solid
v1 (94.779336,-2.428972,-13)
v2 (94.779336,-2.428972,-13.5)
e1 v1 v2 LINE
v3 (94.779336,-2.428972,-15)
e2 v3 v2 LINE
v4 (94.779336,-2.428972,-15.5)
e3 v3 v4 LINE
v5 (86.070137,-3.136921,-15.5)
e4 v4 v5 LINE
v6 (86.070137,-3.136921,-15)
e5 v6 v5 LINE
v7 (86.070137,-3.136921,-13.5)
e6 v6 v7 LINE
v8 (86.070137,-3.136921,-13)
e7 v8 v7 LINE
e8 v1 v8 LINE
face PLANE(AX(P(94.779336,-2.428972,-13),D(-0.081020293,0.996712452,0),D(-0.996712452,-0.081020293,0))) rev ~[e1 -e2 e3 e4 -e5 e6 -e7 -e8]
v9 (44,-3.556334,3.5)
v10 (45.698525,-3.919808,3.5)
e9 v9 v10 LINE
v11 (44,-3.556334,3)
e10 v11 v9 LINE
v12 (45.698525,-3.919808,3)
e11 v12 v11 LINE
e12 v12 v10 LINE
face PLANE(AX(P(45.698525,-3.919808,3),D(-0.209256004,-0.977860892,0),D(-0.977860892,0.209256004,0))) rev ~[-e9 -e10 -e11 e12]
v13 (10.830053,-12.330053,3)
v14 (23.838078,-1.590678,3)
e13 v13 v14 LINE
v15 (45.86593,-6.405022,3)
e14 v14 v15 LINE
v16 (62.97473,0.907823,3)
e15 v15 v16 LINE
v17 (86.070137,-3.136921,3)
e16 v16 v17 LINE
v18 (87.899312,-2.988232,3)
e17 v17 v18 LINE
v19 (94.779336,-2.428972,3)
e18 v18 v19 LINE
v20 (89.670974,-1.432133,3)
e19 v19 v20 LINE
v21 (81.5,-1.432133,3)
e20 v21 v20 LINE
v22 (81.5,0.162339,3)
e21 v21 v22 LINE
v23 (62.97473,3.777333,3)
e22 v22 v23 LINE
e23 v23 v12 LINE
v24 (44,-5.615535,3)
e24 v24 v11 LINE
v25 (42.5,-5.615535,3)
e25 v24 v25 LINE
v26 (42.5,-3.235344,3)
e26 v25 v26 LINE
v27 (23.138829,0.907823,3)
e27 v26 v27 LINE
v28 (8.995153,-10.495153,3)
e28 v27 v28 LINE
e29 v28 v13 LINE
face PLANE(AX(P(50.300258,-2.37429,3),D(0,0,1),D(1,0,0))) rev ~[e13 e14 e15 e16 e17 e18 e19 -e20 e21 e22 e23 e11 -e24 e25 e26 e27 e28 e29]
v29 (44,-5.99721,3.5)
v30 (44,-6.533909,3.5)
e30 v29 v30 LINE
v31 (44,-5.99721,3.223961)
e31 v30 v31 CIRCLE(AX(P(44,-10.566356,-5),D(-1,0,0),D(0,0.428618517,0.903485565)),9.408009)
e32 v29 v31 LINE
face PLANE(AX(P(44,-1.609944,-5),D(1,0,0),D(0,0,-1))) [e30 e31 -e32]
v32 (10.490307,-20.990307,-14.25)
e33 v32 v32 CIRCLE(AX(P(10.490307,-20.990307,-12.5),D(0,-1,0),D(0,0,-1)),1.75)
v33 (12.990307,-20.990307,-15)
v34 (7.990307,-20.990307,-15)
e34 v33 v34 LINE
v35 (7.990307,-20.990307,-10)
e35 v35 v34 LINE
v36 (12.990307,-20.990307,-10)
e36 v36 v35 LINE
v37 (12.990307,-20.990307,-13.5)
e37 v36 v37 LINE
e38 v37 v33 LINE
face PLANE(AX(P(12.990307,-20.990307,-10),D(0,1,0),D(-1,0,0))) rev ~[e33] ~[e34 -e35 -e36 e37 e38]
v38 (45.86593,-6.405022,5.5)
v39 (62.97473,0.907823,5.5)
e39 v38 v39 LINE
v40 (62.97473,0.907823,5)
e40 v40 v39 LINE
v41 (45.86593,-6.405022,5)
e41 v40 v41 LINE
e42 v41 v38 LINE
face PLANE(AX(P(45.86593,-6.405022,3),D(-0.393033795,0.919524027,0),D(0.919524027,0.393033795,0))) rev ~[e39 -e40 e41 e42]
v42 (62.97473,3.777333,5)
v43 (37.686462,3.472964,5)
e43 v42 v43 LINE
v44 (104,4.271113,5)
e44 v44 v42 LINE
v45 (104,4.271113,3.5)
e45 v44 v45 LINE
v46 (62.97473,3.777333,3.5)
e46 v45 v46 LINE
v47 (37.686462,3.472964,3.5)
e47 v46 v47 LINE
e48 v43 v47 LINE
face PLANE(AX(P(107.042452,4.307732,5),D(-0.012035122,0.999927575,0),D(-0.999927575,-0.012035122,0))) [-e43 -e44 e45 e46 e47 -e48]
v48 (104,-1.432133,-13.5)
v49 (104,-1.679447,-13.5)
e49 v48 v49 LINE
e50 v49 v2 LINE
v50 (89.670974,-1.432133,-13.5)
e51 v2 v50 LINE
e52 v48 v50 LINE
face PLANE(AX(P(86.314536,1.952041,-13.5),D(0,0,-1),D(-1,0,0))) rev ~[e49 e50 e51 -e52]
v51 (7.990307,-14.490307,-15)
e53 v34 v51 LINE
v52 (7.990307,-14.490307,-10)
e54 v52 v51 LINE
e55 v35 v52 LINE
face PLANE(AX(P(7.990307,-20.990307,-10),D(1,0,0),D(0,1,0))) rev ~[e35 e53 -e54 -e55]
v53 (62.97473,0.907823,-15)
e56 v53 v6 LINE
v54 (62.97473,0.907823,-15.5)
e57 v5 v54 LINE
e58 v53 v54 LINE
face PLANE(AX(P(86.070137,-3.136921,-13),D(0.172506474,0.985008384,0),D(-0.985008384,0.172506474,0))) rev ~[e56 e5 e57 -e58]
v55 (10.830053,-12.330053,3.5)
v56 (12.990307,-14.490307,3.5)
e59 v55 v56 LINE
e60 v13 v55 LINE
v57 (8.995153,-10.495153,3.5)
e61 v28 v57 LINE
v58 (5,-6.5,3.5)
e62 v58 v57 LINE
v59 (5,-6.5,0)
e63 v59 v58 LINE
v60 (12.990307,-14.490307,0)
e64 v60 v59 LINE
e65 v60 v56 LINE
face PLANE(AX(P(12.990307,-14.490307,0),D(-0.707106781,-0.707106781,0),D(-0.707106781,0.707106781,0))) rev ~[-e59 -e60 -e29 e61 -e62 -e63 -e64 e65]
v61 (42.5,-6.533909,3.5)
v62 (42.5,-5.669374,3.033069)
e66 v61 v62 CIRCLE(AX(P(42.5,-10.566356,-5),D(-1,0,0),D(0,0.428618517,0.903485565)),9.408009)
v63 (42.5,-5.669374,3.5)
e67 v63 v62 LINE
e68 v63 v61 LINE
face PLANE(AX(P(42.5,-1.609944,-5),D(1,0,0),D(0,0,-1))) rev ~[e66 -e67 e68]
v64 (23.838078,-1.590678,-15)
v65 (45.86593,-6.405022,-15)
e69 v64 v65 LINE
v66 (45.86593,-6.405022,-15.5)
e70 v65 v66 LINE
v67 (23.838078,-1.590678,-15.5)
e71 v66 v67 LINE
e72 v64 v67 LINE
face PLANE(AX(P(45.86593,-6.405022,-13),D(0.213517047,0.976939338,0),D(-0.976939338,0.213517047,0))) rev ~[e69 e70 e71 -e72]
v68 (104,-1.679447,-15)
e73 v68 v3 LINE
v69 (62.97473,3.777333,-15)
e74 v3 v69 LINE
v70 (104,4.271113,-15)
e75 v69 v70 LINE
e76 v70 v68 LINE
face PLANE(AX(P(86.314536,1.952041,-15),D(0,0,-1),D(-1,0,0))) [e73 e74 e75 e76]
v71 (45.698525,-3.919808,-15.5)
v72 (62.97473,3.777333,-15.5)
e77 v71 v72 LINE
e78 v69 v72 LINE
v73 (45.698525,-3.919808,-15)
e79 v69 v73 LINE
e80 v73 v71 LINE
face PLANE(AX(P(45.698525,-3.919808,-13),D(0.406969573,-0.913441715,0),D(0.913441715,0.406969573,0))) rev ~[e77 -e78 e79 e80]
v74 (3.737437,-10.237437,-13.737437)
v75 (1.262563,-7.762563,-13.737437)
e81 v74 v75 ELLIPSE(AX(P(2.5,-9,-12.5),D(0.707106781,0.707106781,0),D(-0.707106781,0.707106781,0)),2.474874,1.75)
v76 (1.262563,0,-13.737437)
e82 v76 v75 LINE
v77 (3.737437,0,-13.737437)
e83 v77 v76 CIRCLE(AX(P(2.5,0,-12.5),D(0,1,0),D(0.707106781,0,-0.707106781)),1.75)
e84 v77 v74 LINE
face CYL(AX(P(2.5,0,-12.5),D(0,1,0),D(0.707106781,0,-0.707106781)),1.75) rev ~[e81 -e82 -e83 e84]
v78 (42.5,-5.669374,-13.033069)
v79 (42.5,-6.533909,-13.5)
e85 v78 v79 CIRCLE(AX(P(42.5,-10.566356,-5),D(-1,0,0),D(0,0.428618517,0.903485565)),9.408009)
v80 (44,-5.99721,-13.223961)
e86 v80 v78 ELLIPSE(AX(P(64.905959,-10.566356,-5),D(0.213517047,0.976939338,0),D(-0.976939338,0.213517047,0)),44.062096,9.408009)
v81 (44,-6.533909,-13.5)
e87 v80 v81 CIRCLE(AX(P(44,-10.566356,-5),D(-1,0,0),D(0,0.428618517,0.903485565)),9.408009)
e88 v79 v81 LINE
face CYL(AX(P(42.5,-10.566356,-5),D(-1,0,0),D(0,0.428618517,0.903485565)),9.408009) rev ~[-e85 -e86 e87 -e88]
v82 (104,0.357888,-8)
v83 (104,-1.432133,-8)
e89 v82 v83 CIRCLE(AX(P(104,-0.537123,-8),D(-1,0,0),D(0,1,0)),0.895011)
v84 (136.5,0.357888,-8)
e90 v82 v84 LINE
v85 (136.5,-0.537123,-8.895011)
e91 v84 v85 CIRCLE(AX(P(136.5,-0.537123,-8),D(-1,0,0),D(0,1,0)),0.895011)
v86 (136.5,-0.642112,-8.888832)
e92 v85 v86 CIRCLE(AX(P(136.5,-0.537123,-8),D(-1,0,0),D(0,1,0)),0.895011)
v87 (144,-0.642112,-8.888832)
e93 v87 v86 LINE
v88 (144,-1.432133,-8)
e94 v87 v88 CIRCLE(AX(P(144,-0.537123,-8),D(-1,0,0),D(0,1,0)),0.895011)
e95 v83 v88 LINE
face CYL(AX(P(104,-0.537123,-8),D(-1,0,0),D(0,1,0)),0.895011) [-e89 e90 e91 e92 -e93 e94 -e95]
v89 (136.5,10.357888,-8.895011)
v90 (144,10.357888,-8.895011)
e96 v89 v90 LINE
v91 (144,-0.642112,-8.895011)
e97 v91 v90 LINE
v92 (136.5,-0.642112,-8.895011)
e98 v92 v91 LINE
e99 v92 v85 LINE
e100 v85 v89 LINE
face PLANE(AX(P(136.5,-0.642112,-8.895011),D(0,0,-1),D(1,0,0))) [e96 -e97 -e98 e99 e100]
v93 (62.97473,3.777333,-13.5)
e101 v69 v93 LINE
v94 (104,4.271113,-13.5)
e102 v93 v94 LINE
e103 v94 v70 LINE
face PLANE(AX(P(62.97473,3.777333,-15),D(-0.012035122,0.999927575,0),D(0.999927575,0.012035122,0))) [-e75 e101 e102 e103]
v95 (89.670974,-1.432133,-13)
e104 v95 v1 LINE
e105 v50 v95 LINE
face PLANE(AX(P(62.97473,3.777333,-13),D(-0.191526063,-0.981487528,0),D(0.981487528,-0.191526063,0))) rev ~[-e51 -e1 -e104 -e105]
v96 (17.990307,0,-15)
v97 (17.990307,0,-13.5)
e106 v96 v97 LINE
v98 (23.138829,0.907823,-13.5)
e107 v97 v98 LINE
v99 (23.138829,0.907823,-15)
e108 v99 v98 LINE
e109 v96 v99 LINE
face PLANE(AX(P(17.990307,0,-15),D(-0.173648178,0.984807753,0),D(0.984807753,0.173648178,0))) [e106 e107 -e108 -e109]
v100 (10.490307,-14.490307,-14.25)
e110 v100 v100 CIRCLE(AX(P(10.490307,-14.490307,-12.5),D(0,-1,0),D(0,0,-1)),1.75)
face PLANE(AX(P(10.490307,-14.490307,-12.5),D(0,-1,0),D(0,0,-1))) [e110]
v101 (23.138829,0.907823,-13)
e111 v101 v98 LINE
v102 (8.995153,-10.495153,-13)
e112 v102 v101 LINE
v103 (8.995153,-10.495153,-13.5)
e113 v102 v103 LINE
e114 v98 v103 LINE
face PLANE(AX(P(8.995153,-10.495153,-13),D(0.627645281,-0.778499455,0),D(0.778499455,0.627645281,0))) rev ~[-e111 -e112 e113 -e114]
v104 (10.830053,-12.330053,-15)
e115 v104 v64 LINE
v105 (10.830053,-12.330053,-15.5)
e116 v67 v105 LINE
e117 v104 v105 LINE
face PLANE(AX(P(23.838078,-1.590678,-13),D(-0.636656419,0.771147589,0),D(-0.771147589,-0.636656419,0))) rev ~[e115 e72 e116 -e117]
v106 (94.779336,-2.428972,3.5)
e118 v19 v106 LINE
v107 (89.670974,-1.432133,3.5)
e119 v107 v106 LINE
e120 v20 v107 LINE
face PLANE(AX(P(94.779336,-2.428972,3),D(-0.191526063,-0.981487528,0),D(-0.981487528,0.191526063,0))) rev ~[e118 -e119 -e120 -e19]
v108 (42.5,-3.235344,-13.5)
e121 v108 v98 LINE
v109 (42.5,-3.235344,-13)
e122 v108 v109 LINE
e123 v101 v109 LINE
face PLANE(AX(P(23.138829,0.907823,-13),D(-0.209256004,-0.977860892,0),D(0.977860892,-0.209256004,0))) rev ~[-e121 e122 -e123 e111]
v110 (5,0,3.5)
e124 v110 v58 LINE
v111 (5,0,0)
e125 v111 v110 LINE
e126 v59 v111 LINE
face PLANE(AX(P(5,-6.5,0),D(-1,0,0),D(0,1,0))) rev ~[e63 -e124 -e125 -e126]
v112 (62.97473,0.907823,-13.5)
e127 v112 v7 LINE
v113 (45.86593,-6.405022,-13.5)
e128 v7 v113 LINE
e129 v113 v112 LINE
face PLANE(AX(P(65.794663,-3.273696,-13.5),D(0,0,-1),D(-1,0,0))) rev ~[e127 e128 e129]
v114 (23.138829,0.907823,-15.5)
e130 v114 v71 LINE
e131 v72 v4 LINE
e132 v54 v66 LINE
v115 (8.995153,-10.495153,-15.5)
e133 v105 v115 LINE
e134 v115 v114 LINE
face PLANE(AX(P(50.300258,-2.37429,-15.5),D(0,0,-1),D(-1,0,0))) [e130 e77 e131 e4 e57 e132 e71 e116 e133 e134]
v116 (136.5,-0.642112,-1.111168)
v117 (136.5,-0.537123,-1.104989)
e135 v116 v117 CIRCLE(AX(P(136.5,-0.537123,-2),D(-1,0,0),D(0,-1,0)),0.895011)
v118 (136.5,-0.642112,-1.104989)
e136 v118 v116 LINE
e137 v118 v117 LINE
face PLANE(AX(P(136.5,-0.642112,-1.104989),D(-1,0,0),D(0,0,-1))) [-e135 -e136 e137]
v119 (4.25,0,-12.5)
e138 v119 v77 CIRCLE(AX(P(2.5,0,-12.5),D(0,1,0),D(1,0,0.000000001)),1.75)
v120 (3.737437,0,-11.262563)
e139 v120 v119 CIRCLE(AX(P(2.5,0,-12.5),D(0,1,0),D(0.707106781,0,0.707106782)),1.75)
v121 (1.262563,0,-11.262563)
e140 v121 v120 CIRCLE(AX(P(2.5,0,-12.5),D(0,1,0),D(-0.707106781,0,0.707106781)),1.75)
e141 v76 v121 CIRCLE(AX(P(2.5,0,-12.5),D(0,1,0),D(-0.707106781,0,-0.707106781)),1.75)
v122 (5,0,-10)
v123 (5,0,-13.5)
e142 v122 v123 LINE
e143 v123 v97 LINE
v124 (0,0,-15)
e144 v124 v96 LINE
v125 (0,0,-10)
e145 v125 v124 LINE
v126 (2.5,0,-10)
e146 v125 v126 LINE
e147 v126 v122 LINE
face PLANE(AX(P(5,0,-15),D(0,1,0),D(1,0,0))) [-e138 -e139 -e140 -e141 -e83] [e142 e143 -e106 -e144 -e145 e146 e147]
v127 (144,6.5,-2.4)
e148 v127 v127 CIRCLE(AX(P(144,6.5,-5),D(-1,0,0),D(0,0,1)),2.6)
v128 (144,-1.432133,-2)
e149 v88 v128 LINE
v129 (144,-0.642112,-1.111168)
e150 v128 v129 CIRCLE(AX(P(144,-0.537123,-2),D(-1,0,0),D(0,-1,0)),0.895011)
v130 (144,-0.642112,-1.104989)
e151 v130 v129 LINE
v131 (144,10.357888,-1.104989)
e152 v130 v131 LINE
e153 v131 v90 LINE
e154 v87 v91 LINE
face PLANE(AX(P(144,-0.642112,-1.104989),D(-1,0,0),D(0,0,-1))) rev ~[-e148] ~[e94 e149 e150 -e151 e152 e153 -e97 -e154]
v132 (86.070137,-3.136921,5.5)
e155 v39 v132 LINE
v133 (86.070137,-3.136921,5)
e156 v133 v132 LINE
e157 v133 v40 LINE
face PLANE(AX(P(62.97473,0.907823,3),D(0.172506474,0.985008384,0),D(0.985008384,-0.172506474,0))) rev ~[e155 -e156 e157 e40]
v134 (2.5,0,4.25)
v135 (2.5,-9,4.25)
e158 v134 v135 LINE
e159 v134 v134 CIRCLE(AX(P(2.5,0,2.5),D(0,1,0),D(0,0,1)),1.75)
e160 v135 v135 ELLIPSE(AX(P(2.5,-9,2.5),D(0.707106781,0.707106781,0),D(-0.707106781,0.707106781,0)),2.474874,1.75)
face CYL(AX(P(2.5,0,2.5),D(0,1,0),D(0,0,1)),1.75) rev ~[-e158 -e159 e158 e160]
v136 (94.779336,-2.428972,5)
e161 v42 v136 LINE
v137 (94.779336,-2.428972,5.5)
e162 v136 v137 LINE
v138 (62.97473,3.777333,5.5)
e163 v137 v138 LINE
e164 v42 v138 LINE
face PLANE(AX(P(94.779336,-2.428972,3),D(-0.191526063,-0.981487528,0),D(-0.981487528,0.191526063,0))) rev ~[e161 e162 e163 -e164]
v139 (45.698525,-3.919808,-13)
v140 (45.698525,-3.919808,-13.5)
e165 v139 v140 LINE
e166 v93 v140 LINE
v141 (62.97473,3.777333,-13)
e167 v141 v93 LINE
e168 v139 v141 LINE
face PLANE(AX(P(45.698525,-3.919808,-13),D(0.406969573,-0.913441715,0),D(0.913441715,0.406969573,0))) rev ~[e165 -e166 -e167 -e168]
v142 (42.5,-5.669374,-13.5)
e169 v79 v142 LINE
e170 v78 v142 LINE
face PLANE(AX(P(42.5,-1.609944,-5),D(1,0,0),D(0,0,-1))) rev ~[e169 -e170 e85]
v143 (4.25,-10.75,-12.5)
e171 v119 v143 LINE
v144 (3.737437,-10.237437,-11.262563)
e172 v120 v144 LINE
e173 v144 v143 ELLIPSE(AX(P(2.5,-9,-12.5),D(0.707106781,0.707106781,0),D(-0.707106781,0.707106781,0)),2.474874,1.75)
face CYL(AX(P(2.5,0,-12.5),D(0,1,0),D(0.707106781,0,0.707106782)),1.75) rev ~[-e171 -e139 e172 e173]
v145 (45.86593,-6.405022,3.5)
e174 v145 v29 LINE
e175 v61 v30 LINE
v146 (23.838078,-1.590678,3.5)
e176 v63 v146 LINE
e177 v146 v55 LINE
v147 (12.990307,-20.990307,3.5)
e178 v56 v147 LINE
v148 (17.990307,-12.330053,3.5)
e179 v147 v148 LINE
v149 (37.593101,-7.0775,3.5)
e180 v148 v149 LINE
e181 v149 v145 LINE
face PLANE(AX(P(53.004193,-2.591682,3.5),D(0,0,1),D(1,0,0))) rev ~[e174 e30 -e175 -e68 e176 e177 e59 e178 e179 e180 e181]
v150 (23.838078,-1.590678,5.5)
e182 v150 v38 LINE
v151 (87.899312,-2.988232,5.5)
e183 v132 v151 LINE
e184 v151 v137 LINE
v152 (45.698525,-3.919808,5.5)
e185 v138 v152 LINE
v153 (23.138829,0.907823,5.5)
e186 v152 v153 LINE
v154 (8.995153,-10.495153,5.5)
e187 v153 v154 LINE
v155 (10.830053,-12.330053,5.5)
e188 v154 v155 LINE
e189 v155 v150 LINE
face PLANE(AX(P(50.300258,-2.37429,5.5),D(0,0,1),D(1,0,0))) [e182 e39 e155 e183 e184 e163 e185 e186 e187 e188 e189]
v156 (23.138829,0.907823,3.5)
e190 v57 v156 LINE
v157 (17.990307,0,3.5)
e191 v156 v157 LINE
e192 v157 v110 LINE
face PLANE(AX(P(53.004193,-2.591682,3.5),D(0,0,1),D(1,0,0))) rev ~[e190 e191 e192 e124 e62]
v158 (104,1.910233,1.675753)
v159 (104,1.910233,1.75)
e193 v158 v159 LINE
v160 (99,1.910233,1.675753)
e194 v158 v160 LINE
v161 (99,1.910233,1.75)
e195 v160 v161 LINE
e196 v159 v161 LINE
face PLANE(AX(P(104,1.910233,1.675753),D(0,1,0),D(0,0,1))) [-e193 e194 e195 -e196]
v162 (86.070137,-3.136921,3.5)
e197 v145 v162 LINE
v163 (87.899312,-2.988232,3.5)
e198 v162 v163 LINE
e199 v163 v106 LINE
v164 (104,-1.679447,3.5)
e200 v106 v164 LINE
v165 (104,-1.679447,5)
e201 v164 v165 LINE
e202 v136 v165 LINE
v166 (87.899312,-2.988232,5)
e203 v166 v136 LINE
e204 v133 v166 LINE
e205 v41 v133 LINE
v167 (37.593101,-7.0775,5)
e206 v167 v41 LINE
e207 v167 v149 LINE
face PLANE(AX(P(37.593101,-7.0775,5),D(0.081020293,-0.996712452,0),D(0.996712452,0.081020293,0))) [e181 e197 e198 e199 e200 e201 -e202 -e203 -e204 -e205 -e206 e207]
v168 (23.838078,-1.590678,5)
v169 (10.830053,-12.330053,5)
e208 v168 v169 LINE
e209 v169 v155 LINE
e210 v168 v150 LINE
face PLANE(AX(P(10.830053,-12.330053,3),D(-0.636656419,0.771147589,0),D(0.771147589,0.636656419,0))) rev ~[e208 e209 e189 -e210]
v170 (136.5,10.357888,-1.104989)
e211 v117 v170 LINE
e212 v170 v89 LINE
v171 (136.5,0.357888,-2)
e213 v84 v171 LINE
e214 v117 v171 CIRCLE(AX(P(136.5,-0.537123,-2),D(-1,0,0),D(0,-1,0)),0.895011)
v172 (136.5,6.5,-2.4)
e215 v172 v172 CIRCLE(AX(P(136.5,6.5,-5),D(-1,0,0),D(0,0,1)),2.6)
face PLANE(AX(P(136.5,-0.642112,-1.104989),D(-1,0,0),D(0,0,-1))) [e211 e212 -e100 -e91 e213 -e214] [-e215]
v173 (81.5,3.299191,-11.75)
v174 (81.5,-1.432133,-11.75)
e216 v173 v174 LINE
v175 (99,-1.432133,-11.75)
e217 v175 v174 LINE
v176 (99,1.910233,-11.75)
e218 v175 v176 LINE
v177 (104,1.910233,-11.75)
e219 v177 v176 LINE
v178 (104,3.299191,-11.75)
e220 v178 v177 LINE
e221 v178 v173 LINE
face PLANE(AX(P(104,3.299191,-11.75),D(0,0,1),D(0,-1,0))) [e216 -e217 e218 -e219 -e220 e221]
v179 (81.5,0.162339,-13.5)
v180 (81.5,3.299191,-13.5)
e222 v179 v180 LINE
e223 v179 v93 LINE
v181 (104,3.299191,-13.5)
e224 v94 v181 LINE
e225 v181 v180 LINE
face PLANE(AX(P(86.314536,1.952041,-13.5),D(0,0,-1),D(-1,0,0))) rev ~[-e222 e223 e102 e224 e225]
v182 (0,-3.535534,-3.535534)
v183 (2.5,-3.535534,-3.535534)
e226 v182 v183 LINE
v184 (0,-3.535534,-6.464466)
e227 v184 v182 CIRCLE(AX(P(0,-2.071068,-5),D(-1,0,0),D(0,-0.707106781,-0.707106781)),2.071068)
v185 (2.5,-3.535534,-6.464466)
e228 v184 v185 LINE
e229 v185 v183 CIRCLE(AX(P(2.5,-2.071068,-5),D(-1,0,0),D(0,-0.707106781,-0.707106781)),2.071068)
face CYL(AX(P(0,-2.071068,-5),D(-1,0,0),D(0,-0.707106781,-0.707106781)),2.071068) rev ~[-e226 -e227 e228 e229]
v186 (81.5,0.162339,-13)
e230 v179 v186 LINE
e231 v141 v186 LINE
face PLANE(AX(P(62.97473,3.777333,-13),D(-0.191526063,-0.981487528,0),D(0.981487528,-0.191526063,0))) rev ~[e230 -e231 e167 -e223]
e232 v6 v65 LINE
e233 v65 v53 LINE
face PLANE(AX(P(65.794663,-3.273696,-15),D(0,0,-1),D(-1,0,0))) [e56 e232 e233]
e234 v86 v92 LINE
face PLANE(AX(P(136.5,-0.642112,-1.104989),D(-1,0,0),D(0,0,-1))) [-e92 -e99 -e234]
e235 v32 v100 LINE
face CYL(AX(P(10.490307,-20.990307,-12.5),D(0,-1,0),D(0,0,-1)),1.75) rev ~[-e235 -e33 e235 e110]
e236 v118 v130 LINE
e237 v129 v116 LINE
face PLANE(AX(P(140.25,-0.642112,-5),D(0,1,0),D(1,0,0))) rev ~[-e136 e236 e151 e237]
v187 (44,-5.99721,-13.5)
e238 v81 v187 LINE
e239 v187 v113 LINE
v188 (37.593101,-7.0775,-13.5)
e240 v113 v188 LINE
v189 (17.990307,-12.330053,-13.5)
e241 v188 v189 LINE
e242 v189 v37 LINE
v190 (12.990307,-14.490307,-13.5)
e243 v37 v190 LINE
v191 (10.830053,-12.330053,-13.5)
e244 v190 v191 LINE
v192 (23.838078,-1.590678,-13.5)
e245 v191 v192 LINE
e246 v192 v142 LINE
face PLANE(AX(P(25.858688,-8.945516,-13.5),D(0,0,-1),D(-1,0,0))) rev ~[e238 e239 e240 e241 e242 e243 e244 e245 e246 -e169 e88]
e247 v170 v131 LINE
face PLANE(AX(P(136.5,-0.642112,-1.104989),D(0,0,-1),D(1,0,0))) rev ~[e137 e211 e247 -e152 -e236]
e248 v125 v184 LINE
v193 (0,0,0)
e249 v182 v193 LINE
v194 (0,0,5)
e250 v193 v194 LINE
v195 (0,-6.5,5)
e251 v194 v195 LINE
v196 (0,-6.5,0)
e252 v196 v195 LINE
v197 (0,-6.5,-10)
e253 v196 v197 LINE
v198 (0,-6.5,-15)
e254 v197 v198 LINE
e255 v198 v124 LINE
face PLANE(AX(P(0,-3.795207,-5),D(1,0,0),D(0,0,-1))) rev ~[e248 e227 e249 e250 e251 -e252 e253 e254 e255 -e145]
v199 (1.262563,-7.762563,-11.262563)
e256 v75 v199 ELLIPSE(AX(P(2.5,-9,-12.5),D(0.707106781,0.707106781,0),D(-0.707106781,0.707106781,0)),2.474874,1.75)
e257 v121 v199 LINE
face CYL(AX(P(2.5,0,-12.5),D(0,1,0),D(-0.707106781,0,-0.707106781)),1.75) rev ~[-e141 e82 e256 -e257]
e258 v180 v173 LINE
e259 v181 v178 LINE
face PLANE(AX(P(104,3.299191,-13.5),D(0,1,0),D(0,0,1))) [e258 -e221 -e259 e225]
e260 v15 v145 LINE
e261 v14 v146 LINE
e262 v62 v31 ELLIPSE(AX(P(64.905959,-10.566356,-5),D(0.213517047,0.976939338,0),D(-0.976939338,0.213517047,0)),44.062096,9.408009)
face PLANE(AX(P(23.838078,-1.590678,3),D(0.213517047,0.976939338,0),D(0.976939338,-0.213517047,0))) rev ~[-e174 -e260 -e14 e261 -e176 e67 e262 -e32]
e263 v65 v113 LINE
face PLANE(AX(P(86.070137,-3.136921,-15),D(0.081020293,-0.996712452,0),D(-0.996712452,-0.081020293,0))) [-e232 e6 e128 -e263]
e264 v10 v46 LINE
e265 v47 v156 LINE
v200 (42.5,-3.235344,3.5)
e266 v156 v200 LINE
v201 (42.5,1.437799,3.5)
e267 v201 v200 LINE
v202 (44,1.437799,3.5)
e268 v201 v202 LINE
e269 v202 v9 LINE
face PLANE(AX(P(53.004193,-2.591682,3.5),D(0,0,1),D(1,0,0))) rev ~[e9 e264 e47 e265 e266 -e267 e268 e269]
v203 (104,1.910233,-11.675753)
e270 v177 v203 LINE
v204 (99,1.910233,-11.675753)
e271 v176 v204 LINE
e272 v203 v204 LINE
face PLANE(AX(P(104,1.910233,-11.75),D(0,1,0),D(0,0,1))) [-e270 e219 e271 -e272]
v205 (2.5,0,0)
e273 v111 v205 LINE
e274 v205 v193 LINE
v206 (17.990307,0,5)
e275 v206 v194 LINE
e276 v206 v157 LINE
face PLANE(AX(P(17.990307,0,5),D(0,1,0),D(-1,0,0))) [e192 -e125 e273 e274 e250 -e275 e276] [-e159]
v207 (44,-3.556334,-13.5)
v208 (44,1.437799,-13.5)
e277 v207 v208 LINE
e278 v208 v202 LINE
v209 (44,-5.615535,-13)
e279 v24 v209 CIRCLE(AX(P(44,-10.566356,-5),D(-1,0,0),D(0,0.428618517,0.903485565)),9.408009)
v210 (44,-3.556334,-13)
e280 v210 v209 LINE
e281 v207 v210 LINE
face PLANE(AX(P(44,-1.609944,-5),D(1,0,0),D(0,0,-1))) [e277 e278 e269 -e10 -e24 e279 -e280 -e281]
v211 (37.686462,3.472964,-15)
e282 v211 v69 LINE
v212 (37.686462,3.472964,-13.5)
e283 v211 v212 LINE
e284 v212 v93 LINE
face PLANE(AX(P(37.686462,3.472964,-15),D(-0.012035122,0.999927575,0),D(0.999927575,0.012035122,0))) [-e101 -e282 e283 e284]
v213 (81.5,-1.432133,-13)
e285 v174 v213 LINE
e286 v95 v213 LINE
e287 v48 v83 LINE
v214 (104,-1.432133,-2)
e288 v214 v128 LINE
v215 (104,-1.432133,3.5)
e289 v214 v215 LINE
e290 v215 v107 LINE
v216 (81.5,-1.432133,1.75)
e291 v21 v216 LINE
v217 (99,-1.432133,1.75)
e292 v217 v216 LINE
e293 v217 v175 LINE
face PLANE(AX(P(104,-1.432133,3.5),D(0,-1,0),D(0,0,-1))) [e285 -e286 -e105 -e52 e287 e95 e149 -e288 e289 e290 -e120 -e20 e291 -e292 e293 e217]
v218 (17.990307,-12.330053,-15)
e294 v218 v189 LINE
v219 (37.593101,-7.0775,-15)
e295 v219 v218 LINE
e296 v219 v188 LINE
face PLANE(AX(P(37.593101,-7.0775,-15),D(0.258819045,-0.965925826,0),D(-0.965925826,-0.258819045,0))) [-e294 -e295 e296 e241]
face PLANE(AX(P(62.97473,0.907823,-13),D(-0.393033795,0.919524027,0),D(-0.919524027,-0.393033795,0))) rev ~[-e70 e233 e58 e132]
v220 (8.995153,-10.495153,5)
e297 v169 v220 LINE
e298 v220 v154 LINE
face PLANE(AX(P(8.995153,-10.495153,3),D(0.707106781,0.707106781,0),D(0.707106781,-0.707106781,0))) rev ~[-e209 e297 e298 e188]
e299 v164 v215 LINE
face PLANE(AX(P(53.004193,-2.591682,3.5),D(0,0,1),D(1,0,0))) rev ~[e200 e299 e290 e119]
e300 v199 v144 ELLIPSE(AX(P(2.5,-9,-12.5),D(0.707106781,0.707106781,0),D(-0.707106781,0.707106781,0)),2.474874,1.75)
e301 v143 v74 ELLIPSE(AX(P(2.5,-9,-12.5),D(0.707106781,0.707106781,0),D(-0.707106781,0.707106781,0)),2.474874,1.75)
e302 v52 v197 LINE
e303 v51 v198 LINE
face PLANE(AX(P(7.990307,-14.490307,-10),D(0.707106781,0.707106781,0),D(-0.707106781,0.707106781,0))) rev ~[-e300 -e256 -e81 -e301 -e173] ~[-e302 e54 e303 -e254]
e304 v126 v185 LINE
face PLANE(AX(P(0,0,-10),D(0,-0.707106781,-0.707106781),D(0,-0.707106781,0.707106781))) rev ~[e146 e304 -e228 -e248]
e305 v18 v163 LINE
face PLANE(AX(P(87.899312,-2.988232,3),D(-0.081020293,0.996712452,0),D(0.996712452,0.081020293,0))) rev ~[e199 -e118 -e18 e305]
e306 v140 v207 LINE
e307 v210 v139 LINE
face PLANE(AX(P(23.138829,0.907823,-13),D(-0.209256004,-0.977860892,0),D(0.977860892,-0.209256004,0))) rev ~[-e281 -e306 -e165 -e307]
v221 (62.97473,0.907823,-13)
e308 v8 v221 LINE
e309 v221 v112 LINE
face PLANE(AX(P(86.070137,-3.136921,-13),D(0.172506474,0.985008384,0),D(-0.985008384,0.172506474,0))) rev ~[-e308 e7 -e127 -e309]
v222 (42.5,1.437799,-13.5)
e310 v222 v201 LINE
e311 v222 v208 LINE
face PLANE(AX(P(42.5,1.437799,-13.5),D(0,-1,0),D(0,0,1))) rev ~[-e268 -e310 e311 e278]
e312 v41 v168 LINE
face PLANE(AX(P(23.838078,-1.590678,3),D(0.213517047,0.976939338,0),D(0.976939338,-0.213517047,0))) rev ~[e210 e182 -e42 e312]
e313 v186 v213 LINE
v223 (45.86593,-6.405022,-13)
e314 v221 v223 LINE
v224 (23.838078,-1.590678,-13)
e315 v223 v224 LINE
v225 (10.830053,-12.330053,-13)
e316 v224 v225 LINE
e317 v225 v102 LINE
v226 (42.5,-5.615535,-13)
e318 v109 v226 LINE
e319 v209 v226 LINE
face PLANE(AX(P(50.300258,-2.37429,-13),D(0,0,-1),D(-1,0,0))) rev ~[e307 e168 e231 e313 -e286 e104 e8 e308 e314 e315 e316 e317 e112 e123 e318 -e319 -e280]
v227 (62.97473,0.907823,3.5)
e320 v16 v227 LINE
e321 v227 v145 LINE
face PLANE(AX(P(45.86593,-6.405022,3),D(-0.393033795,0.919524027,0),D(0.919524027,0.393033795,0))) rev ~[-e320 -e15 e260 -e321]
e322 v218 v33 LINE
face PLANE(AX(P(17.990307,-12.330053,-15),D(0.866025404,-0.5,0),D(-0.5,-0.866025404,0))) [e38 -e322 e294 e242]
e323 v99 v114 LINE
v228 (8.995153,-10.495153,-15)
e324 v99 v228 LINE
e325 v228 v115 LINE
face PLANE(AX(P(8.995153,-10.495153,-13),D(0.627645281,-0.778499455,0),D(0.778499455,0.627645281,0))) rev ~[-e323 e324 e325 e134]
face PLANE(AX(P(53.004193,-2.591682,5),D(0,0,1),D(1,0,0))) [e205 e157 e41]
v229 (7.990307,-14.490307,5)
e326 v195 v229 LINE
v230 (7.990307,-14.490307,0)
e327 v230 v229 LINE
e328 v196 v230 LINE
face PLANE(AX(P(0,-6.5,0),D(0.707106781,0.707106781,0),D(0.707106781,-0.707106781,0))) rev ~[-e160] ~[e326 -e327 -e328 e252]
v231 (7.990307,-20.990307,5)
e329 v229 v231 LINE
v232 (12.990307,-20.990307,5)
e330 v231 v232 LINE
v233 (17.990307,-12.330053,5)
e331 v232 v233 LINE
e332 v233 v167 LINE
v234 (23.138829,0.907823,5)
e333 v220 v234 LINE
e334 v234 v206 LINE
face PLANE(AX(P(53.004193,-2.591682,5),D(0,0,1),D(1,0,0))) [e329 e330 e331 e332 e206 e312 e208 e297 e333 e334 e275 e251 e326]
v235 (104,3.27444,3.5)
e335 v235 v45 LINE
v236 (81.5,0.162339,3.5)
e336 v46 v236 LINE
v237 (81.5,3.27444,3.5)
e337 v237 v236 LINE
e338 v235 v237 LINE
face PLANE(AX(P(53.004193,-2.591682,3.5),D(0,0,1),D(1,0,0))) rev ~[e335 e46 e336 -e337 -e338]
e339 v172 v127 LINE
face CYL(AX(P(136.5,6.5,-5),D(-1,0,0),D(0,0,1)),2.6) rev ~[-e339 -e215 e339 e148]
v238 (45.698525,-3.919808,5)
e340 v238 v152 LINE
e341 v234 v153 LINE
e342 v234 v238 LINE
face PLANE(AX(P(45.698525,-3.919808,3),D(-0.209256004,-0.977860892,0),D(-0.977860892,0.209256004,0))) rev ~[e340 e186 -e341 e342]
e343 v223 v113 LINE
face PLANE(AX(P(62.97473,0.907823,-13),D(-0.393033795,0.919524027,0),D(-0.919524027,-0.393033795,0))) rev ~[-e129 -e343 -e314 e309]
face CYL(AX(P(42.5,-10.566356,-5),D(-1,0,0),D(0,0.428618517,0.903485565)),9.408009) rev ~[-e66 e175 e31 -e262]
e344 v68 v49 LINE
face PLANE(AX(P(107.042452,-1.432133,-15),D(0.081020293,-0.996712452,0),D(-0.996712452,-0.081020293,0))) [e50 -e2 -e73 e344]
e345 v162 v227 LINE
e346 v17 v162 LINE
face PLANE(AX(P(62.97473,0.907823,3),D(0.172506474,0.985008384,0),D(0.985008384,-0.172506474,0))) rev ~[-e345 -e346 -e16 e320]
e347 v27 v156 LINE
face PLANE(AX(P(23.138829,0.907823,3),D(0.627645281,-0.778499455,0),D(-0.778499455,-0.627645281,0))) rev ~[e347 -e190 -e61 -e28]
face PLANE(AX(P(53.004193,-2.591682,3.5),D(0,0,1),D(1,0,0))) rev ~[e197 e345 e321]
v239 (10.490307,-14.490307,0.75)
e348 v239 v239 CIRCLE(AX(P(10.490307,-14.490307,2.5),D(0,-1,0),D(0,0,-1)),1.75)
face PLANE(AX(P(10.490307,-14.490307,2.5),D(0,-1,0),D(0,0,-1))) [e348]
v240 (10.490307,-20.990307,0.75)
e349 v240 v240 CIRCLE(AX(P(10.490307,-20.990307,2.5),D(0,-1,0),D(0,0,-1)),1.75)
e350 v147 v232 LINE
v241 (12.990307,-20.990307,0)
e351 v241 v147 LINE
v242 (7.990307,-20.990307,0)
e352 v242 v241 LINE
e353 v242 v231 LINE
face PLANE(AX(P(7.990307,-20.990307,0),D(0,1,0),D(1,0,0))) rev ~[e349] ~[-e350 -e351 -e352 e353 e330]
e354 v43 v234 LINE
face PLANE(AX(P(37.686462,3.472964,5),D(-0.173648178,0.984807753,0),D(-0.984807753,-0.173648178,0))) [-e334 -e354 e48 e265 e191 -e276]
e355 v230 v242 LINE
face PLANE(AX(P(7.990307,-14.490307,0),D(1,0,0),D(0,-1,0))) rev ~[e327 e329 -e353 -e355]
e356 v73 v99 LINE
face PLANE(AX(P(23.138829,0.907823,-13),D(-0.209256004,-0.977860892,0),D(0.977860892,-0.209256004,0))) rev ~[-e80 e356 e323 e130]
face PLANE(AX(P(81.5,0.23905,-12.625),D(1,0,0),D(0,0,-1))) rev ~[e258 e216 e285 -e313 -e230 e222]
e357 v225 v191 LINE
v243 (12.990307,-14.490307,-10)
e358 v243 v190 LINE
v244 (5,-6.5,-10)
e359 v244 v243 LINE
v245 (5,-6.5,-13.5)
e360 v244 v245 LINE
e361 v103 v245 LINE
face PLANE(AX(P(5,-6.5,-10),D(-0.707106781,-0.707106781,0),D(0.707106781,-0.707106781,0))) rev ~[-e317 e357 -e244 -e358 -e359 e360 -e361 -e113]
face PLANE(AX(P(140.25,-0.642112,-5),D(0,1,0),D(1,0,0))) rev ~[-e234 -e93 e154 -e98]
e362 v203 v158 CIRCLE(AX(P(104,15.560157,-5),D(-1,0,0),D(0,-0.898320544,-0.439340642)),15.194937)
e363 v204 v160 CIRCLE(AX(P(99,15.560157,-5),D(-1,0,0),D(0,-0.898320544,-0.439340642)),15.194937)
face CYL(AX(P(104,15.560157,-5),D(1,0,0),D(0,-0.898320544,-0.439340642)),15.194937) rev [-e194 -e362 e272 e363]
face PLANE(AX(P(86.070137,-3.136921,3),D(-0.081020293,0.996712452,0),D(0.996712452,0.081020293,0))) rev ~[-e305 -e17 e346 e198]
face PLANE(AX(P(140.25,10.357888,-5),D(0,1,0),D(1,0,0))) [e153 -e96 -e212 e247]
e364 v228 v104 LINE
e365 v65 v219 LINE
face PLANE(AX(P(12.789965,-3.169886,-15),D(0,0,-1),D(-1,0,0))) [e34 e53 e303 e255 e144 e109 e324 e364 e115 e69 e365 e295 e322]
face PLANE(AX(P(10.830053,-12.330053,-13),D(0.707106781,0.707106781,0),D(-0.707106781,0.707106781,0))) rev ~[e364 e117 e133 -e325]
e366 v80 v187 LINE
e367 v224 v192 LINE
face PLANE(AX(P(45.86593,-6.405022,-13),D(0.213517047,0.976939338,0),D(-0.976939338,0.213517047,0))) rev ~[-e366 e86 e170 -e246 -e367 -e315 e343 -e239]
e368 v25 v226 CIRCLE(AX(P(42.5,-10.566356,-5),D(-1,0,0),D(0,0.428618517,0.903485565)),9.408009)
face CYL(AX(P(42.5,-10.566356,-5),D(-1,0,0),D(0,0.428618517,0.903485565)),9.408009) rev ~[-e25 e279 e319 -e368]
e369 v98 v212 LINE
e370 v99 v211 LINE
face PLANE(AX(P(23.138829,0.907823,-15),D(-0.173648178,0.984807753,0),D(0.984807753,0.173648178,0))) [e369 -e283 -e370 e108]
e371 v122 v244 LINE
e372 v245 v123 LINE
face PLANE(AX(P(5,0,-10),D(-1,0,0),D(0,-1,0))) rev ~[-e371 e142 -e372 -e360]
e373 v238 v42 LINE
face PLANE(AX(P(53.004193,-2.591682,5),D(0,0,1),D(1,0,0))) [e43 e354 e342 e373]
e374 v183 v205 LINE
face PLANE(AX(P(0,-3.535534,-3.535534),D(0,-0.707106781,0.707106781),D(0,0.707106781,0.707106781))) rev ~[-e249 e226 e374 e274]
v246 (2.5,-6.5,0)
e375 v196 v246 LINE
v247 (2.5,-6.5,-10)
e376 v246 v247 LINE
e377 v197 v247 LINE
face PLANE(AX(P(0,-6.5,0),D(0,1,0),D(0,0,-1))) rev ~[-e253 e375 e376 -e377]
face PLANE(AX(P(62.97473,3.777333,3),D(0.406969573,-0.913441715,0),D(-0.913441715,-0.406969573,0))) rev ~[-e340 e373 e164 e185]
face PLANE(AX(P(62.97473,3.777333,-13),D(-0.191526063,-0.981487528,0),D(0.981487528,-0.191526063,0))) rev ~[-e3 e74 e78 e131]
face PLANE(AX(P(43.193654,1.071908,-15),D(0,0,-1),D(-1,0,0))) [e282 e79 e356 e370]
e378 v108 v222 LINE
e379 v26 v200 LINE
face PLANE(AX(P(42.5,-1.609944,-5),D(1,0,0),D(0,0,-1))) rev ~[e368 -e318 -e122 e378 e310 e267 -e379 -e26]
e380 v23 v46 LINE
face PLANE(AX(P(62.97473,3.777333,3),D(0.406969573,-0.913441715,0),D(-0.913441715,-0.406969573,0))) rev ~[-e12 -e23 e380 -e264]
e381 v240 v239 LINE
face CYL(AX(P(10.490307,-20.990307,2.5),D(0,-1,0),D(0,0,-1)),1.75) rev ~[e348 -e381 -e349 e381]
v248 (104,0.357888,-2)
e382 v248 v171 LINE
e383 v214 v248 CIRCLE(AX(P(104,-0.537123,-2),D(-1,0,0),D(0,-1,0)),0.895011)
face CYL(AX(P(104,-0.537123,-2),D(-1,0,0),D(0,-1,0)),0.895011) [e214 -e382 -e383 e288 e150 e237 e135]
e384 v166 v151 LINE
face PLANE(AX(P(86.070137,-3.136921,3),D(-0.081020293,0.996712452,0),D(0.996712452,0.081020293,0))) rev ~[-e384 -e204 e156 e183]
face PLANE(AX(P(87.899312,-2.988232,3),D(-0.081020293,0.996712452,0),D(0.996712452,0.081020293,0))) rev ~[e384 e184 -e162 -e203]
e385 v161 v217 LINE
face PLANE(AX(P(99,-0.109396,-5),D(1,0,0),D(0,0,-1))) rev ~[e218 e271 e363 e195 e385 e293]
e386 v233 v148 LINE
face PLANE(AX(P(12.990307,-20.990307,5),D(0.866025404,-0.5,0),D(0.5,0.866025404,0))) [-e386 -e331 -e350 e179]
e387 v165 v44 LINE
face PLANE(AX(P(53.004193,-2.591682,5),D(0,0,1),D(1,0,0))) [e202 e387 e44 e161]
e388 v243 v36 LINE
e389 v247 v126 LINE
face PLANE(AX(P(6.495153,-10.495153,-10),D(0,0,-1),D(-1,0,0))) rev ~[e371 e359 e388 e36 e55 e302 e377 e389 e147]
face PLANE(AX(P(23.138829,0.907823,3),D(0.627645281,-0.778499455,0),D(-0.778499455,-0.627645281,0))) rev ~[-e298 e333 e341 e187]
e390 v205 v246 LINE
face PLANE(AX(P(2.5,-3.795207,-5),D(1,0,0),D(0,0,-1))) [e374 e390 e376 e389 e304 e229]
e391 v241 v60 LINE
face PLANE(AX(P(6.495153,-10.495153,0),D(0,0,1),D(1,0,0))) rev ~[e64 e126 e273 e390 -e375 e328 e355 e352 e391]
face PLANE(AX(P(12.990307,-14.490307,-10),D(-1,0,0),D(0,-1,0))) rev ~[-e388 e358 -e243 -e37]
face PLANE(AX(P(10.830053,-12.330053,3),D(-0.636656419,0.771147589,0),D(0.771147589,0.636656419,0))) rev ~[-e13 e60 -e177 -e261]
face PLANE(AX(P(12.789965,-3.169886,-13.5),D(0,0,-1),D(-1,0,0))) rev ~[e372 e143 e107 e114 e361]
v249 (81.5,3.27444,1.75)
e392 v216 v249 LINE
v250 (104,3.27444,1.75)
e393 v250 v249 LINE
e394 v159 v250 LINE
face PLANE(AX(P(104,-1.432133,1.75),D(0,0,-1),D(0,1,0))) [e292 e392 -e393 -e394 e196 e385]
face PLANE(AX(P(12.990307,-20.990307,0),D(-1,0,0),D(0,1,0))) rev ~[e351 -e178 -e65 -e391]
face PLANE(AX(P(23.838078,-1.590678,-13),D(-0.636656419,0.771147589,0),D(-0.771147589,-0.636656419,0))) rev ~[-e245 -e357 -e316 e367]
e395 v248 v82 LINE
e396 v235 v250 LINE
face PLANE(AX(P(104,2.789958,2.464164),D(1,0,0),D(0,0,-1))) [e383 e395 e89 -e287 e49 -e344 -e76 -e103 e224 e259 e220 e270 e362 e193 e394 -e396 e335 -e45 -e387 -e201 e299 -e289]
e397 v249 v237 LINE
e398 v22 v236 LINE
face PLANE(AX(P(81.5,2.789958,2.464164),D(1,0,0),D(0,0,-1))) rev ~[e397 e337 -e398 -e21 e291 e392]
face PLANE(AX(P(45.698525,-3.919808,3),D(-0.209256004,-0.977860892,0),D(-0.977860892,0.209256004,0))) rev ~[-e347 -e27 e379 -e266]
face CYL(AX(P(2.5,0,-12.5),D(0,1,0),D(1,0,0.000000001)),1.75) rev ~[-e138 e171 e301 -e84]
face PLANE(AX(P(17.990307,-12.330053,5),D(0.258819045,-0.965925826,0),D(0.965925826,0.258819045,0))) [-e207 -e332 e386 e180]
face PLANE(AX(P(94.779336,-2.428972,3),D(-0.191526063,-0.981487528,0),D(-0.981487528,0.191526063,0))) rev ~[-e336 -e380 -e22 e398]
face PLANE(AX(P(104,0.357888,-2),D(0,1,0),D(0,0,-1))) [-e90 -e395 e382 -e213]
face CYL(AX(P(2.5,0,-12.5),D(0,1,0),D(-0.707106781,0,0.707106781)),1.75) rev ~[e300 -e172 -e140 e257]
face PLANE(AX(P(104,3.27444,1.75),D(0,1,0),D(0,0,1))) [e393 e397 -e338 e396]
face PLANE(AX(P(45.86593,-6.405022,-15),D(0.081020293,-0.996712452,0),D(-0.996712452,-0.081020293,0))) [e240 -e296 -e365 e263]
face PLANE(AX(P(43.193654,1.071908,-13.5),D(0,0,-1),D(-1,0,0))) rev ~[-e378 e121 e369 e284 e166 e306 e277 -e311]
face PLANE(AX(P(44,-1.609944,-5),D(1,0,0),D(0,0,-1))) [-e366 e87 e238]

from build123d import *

# Parameters (mm, degrees)
EXTRUDE_1_DEPTH       = 5
SKETCH_2_R            = 1.75
CUT_EXTRUDE_1_DEPTH   = 15
EXTRUDE_2_DEPTH       = 1.5
EXTRUDE_9_DEPTH       = 0.5
EXTRUDE_9_DEPTH_BACK  = 2
SKETCH_3_R            = 1.75
CUT_EXTRUDE_6_DEPTH   = 6.5
EXTRUDE_10_DEPTH      = 5
CUT_EXTRUDE_7_DEPTH   = 15
EXTRUDE_11_DEPTH      = 1.5
EXTRUDE_12_DEPTH      = 0.5
EXTRUDE_12_DEPTH_BACK = 2
SKETCH_17_R           = 1.75
CUT_EXTRUDE_8_DEPTH   = 6.5
EXTRUDE_13_DEPTH      = 2.5
EXTRUDE_14_DEPTH      = 1.5
EXTRUDE_15_DEPTH      = 5
SKETCH_24_4_W         = 1.75
SKETCH_24_4_H         = 3.342366724
EXTRUDE_16_DEPTH      = 22.5
EXTRUDE_17_DEPTH      = 40
SKETCH_28_W           = 3.461866643
SKETCH_28_H           = 8.544861576
SKETCH_28_W_2         = 3.380090265
SKETCH_28_H_2         = 8.552455592
CUT_EXTRUDE_9_DEPTH   = 35
EXTRUDE_18_DEPTH      = 10
EXTRUDE_18_DEPTH_BACK = 1
SKETCH_30_W           = 7.5
SKETCH_30_H           = 7.790021452
SKETCH_31_R           = 2.6
CUT_EXTRUDE_10_DEPTH  = 7.5


with BuildPart() as part:
    # 草图1 → 凸台-拉伸1 (new body)
    with BuildSketch(Plane.XY):
        Polygon((0, 0), (0, -6.5), (7.990306627, -14.490306627), (7.990306627, -20.990306627), (12.990306627, -20.990306627), (12.990306627, -14.490306627), (5, -6.5), (5, 0), align=None)
    extrude(amount=EXTRUDE_1_DEPTH)

    # 草图2 → 切除-拉伸1 (cut)
    with BuildSketch(Plane(origin=(0, 0, 0), x_dir=(1, 0, 0), z_dir=(0, 1, 0))):
        with Locations(Location((2.5, -2.5, 0), (0, 0, 270))):
            Circle(SKETCH_2_R)
    extrude(amount=-CUT_EXTRUDE_1_DEPTH, mode=Mode.SUBTRACT)



with BuildPart() as body_2:
    # 草图5 → 凸台-拉伸2 (new body)
    with BuildSketch(Plane.XY.offset(5)):
        Polygon((12.990306627, -14.490306627), (12.990306627, -20.990306627), (17.990306627, -12.33005259), (37.59310092, -7.077499689), (107.04245202, -1.432133489), (107.04245202, 4.307731787), (37.686461688, 3.472963553), (17.990306627, 0), (5, 0), (5, -6.5), align=None)
    extrude(amount=-EXTRUDE_2_DEPTH)


with BuildPart() as part_1:
    add(part.part)

    add(body_2.part)  # 凸台-拉伸9 merges body 2
    # 草图5<8> → 凸台-拉伸9 (add, two sides: drawn at the far end of the back side and taken through both)
    with BuildSketch(Plane.XY.offset(5).offset(-EXTRUDE_9_DEPTH_BACK)):
        Polygon((8.995153314, -10.495153314), (10.83005259, -12.33005259), (23.838077825, -1.590678088), (45.865929556, -6.405021885), (62.974730369, 0.907823357), (86.070137471, -3.136921133), (87.899311972, -2.988232057), (94.779335732, -2.42897192), (62.974730369, 3.777332985), (45.698525456, -3.919808084), (23.138828729, 0.907823357), align=None)
    extrude(amount=EXTRUDE_9_DEPTH + EXTRUDE_9_DEPTH_BACK)

    # 草图3 → 切除-拉伸6 (cut)
    with BuildSketch(Plane.XZ.offset(20.990306627)):
        with Locations(Location((10.490306627, 2.5, 0), (0, 0, 270))):
            Circle(SKETCH_3_R)
    extrude(amount=-CUT_EXTRUDE_6_DEPTH, mode=Mode.SUBTRACT)



with BuildPart() as body_2_2:
    # 草图15 → 凸台-拉伸10 (new body)
    with BuildSketch(Plane(origin=(0, 0, -10), x_dir=(-1, 0, 0), z_dir=(0, 0, -1))):
        Polygon((-12.990306627, -20.990306627), (-7.990306627, -20.990306627), (-7.990306627, -14.490306627), (0, -6.5), (0, 0), (-5, 0), (-5, -6.5), (-12.990306627, -14.490306627), align=None)
    extrude(amount=EXTRUDE_10_DEPTH)

    # 草图16 → 切除-拉伸7 (cut)
    with BuildSketch(Plane(origin=(0, 0, 0), x_dir=(1, 0, 0), z_dir=(0, 1, 0))):
        with BuildLine():
            ThreePointArc((3.737436867, 13.737436867), (2.5, 14.25), (1.262563133, 13.737436867))
            Line((1.262563133, 13.737436867), (2.5, 12.5))
            Line((2.5, 12.5), (3.737436867, 13.737436867))
        make_face()
        with BuildLine():
            Line((2.5, 12.5), (1.262563133, 13.737436867))
            ThreePointArc((1.262563133, 13.737436867), (0.75, 12.5), (1.262563133, 11.262563133))
            Line((1.262563133, 11.262563133), (2.5, 12.5))
        make_face()
        with BuildLine():
            Line((3.737436867, 13.737436867), (2.5, 12.5))
            Line((2.5, 12.5), (3.737436867, 11.262563133))
            ThreePointArc((3.737436867, 11.262563133), (4.116789182, 11.830303993), (4.25, 12.5))
            ThreePointArc((4.25, 12.5), (4.116789182, 13.169696007), (3.737436867, 13.737436867))
        make_face()
        with BuildLine():
            Line((3.737436867, 11.262563133), (2.5, 12.5))
            Line((2.5, 12.5), (1.262563133, 11.262563133))
            ThreePointArc((1.262563133, 11.262563133), (2.5, 10.75), (3.737436867, 11.262563133))
        make_face()
    extrude(amount=-CUT_EXTRUDE_7_DEPTH, mode=Mode.SUBTRACT)

    # 草图18 → 凸台-拉伸11 (add)
    with BuildSketch(Plane(origin=(0, 0, -15), x_dir=(-1, 0, 0), z_dir=(0, 0, -1))):
        Polygon((-107.04245202, -1.432133489), (-94.779335732, -2.42897192), (-62.974730369, 3.777332985), (-107.04245202, 4.307731787), align=None)
        Polygon((-86.070137471, -3.136921133), (-45.865929556, -6.405021885), (-62.974730369, 0.907823357), align=None)
        Polygon((-45.698525456, -3.919808084), (-23.138828729, 0.907823357), (-37.686461688, 3.472963553), (-62.974730369, 3.777332985), align=None)
        Polygon((-23.138828729, 0.907823357), (-8.995153314, -10.495153314), (-5, -6.5), (-5, 0), (-17.990306627, 0), align=None)
        Polygon((-17.990306627, -12.33005259), (-12.990306627, -20.990306627), (-12.990306627, -14.490306627), (-10.83005259, -12.33005259), (-23.838077825, -1.590678088), (-45.865929556, -6.405021885), (-37.59310092, -7.077499689), align=None)
    extrude(amount=-EXTRUDE_11_DEPTH)


with BuildPart() as extrude_11_piece_1:
    # of the separate pieces the step leaves, piece 1, a body of its own (extrude_11_pieces)
    add(body_2_2.part.solids().sort_by_distance((12.990306627, -20.990306627, -10))[0])



with BuildPart() as extrude_11_piece_2:
    # of the separate pieces the step leaves, piece 2, a body of its own (extrude_11_pieces)
    add(body_2_2.part.solids().sort_by_distance((94.779335732, -2.42897192, -15))[0])


with BuildPart() as extrude_11_piece_3:
    # of the separate pieces the step leaves, piece 3, a body of its own (extrude_11_pieces)
    add(body_2_2.part.solids().sort_by_distance((37.686461688, 3.472963553, -15))[0])


with BuildPart() as extrude_11_piece_4:
    # of the separate pieces the step leaves, piece 4, a body of its own (extrude_11_pieces)
    add(body_2_2.part.solids().sort_by_distance((86.070137471, -3.136921133, -15))[0])


with BuildPart() as extrude_11_piece_1_1:
    add(extrude_11_piece_1.part)

    add(extrude_11_piece_2.part)  # 凸台-拉伸12 merges 凸台-拉伸11 piece 2

    add(extrude_11_piece_3.part)  # 凸台-拉伸12 merges 凸台-拉伸11 piece 3

    add(extrude_11_piece_4.part)  # 凸台-拉伸12 merges 凸台-拉伸11 piece 4
    # 草图18<3> → 凸台-拉伸12 (add, two sides: drawn at the far end of the back side and taken through both)
    with BuildSketch(Plane(origin=(0, 0, -15), x_dir=(-1, 0, 0), z_dir=(0, 0, -1)).offset(-EXTRUDE_12_DEPTH_BACK)):
        Polygon((-23.838077825, -1.590678088), (-10.83005259, -12.33005259), (-8.995153314, -10.495153314), (-23.138828729, 0.907823357), (-45.698525456, -3.919808084), (-62.974730369, 3.777332985), (-94.779335732, -2.42897192), (-86.070137471, -3.136921133), (-62.974730369, 0.907823357), (-45.865929556, -6.405021885), align=None)
    extrude(amount=EXTRUDE_12_DEPTH + EXTRUDE_12_DEPTH_BACK)

    # 草图17 → 切除-拉伸8 (cut)
    with BuildSketch(Plane.XZ.offset(20.990306627)):
        with Locations(Location((10.490306627, -12.5, 0), (0, 0, 270))):
            Circle(SKETCH_17_R)
    extrude(amount=-CUT_EXTRUDE_8_DEPTH, mode=Mode.SUBTRACT)


with BuildPart() as part_2:
    add(part_1.part)

    add(extrude_11_piece_1_1.part)  # 凸台-拉伸13 merges 凸台-拉伸11 piece 1
    # 草图19 → 凸台-拉伸13 (add)
    with BuildSketch(Plane.ZY):
        with BuildLine():
            Line((-10, 0), (-6.464466094, -3.535533906))
            ThreePointArc((-6.464466094, -3.535533906), (-5, -4.142135624), (-3.535533906, -3.535533906))
            Line((-3.535533906, -3.535533906), (0, 0))
            Line((0, 0), (0, -6.5))
            Line((0, -6.5), (-10, -6.5))
            Line((-10, -6.5), (-10, 0))
        make_face()
    extrude(amount=-EXTRUDE_13_DEPTH)

    # 草图21 → 凸台-拉伸14 (add)
    with BuildSketch(Plane(origin=(42.5, 0, 0), x_dir=(0, 0, -1), z_dir=(1, 0, 0))):
        with BuildLine():
            Line((13.5, 1.437799149), (-3.5, 1.437799149))
            Line((-3.5, 1.437799149), (-3.5, -6.533909198))
            ThreePointArc((-3.5, -6.533909198), (5, -1.158347274), (13.5, -6.533909198))
            Line((13.5, -6.533909198), (13.5, 1.437799149))
        make_face()
    extrude(amount=EXTRUDE_14_DEPTH)



with BuildPart() as body_2_3:
    # 草图24 → 凸台-拉伸15 (new body)
    with BuildSketch(Plane(origin=(104, 0, 0), x_dir=(0, 0, -1), z_dir=(1, 0, 0))):
        with BuildLine():
            Line((-1.675753423, 1.910233235), (-1.75, 1.910233235))
            Line((-1.75, 1.910233235), (-1.75, -1.432133489))
            Line((-1.75, -1.432133489), (11.75, -1.432133489))
            Line((11.75, -1.432133489), (11.75, 1.910233235))
            Line((11.75, 1.910233235), (11.675753423, 1.910233235))
            ThreePointArc((11.675753423, 1.910233235), (5, 0.365220302), (-1.675753423, 1.910233235))
        make_face()
    extrude(amount=-EXTRUDE_15_DEPTH)


with BuildPart() as part_3:
    add(part_2.part)

    add(body_2_3.part)  # 凸台-拉伸16 merges body 2 3
    # 草图24<4> → 凸台-拉伸16 (add)
    with BuildSketch(Plane(origin=(104, 0, 0), x_dir=(0, 0, -1), z_dir=(1, 0, 0))):
        with BuildLine():
            Line((-3.5, 3.274439584), (-3.5, 2.96507449))
            ThreePointArc((-3.5, 2.96507449), (-2.641979316, 2.426754732), (-1.75, 1.946795821))
            Line((-1.75, 1.946795821), (-1.75, 3.274439584))
            Line((-1.75, 3.274439584), (-3.5, 3.274439584))
        make_face()
        with BuildLine():
            Line((-3.5, 2.96507449), (-3.5, 1.910233235))
            Line((-3.5, 1.910233235), (-1.75, 1.910233235))
            Line((-1.75, 1.910233235), (-1.75, 1.946795821))
            ThreePointArc((-1.75, 1.946795821), (-2.641979316, 2.426754732), (-3.5, 2.96507449))
        make_face()
        with Locations((-2.625, 0.239049873)):
            Rectangle(SKETCH_24_4_W, SKETCH_24_4_H)
        with Locations((12.625, 0.239049873)):
            Rectangle(SKETCH_24_4_W, SKETCH_24_4_H)
        with BuildLine():
            Line((13.5, 1.910233235), (13.5, 2.96507449))
            ThreePointArc((13.5, 2.96507449), (12.641979316, 2.426754732), (11.75, 1.946795821))
            Line((11.75, 1.946795821), (11.75, 1.910233235))
            Line((11.75, 1.910233235), (13.5, 1.910233235))
        make_face()
        with BuildLine():
            ThreePointArc((11.75, 1.946795821), (12.641979316, 2.426754732), (13.5, 2.96507449))
            Line((13.5, 2.96507449), (13.5, 3.299190827))
            Line((13.5, 3.299190827), (11.75, 3.299190827))
            Line((11.75, 3.299190827), (11.75, 1.946795821))
        make_face()
    extrude(amount=-EXTRUDE_16_DEPTH)

    # 草图26 → 凸台-拉伸17 (add)
    with BuildSketch(Plane(origin=(104, 0, 0), x_dir=(0, 0, -1), z_dir=(1, 0, 0))):
        with BuildLine():
            Line((2, 0.357887963), (8, 0.357887963))
            ThreePointArc((8, 0.357887963), (8.895010726, -0.537122763), (8, -1.432133489))
            Line((8, -1.432133489), (2, -1.432133489))
            ThreePointArc((2, -1.432133489), (1.104989274, -0.537122763), (2, 0.357887963))
        make_face()
    extrude(amount=EXTRUDE_17_DEPTH)

    # 草图28 → 切除-拉伸9 (cut)
    with BuildSketch(Plane(origin=(104, 0, 0), x_dir=(0, 0, -1), z_dir=(1, 0, 0))):
        with Locations((-4.57289023, 0.313738206)):
            Rectangle(SKETCH_28_W, SKETCH_28_H)
        with Locations((14.303823551, 0.282682405)):
            Rectangle(SKETCH_28_W_2, SKETCH_28_H_2)
    extrude(amount=CUT_EXTRUDE_9_DEPTH, mode=Mode.SUBTRACT)

    # 草图30 → 凸台-拉伸18 (add, two sides: drawn at the far end of the back side and taken through both)
    with BuildSketch(Plane(origin=(0, 0.357887963, 0), x_dir=(1, 0, 0), z_dir=(0, 1, 0)).offset(-EXTRUDE_18_DEPTH_BACK)):
        with Locations((140.25, 5)):
            Rectangle(SKETCH_30_W, SKETCH_30_H)
    extrude(amount=EXTRUDE_18_DEPTH + EXTRUDE_18_DEPTH_BACK)

    # 草图31 → 切除-拉伸10 (cut)
    with BuildSketch(Plane.ZY.offset(-136.5)):
        with Locations((-5, 6.5)):
            Circle(SKETCH_31_R)
    extrude(amount=-CUT_EXTRUDE_10_DEPTH, mode=Mode.SUBTRACT)


solid = part_3.part
